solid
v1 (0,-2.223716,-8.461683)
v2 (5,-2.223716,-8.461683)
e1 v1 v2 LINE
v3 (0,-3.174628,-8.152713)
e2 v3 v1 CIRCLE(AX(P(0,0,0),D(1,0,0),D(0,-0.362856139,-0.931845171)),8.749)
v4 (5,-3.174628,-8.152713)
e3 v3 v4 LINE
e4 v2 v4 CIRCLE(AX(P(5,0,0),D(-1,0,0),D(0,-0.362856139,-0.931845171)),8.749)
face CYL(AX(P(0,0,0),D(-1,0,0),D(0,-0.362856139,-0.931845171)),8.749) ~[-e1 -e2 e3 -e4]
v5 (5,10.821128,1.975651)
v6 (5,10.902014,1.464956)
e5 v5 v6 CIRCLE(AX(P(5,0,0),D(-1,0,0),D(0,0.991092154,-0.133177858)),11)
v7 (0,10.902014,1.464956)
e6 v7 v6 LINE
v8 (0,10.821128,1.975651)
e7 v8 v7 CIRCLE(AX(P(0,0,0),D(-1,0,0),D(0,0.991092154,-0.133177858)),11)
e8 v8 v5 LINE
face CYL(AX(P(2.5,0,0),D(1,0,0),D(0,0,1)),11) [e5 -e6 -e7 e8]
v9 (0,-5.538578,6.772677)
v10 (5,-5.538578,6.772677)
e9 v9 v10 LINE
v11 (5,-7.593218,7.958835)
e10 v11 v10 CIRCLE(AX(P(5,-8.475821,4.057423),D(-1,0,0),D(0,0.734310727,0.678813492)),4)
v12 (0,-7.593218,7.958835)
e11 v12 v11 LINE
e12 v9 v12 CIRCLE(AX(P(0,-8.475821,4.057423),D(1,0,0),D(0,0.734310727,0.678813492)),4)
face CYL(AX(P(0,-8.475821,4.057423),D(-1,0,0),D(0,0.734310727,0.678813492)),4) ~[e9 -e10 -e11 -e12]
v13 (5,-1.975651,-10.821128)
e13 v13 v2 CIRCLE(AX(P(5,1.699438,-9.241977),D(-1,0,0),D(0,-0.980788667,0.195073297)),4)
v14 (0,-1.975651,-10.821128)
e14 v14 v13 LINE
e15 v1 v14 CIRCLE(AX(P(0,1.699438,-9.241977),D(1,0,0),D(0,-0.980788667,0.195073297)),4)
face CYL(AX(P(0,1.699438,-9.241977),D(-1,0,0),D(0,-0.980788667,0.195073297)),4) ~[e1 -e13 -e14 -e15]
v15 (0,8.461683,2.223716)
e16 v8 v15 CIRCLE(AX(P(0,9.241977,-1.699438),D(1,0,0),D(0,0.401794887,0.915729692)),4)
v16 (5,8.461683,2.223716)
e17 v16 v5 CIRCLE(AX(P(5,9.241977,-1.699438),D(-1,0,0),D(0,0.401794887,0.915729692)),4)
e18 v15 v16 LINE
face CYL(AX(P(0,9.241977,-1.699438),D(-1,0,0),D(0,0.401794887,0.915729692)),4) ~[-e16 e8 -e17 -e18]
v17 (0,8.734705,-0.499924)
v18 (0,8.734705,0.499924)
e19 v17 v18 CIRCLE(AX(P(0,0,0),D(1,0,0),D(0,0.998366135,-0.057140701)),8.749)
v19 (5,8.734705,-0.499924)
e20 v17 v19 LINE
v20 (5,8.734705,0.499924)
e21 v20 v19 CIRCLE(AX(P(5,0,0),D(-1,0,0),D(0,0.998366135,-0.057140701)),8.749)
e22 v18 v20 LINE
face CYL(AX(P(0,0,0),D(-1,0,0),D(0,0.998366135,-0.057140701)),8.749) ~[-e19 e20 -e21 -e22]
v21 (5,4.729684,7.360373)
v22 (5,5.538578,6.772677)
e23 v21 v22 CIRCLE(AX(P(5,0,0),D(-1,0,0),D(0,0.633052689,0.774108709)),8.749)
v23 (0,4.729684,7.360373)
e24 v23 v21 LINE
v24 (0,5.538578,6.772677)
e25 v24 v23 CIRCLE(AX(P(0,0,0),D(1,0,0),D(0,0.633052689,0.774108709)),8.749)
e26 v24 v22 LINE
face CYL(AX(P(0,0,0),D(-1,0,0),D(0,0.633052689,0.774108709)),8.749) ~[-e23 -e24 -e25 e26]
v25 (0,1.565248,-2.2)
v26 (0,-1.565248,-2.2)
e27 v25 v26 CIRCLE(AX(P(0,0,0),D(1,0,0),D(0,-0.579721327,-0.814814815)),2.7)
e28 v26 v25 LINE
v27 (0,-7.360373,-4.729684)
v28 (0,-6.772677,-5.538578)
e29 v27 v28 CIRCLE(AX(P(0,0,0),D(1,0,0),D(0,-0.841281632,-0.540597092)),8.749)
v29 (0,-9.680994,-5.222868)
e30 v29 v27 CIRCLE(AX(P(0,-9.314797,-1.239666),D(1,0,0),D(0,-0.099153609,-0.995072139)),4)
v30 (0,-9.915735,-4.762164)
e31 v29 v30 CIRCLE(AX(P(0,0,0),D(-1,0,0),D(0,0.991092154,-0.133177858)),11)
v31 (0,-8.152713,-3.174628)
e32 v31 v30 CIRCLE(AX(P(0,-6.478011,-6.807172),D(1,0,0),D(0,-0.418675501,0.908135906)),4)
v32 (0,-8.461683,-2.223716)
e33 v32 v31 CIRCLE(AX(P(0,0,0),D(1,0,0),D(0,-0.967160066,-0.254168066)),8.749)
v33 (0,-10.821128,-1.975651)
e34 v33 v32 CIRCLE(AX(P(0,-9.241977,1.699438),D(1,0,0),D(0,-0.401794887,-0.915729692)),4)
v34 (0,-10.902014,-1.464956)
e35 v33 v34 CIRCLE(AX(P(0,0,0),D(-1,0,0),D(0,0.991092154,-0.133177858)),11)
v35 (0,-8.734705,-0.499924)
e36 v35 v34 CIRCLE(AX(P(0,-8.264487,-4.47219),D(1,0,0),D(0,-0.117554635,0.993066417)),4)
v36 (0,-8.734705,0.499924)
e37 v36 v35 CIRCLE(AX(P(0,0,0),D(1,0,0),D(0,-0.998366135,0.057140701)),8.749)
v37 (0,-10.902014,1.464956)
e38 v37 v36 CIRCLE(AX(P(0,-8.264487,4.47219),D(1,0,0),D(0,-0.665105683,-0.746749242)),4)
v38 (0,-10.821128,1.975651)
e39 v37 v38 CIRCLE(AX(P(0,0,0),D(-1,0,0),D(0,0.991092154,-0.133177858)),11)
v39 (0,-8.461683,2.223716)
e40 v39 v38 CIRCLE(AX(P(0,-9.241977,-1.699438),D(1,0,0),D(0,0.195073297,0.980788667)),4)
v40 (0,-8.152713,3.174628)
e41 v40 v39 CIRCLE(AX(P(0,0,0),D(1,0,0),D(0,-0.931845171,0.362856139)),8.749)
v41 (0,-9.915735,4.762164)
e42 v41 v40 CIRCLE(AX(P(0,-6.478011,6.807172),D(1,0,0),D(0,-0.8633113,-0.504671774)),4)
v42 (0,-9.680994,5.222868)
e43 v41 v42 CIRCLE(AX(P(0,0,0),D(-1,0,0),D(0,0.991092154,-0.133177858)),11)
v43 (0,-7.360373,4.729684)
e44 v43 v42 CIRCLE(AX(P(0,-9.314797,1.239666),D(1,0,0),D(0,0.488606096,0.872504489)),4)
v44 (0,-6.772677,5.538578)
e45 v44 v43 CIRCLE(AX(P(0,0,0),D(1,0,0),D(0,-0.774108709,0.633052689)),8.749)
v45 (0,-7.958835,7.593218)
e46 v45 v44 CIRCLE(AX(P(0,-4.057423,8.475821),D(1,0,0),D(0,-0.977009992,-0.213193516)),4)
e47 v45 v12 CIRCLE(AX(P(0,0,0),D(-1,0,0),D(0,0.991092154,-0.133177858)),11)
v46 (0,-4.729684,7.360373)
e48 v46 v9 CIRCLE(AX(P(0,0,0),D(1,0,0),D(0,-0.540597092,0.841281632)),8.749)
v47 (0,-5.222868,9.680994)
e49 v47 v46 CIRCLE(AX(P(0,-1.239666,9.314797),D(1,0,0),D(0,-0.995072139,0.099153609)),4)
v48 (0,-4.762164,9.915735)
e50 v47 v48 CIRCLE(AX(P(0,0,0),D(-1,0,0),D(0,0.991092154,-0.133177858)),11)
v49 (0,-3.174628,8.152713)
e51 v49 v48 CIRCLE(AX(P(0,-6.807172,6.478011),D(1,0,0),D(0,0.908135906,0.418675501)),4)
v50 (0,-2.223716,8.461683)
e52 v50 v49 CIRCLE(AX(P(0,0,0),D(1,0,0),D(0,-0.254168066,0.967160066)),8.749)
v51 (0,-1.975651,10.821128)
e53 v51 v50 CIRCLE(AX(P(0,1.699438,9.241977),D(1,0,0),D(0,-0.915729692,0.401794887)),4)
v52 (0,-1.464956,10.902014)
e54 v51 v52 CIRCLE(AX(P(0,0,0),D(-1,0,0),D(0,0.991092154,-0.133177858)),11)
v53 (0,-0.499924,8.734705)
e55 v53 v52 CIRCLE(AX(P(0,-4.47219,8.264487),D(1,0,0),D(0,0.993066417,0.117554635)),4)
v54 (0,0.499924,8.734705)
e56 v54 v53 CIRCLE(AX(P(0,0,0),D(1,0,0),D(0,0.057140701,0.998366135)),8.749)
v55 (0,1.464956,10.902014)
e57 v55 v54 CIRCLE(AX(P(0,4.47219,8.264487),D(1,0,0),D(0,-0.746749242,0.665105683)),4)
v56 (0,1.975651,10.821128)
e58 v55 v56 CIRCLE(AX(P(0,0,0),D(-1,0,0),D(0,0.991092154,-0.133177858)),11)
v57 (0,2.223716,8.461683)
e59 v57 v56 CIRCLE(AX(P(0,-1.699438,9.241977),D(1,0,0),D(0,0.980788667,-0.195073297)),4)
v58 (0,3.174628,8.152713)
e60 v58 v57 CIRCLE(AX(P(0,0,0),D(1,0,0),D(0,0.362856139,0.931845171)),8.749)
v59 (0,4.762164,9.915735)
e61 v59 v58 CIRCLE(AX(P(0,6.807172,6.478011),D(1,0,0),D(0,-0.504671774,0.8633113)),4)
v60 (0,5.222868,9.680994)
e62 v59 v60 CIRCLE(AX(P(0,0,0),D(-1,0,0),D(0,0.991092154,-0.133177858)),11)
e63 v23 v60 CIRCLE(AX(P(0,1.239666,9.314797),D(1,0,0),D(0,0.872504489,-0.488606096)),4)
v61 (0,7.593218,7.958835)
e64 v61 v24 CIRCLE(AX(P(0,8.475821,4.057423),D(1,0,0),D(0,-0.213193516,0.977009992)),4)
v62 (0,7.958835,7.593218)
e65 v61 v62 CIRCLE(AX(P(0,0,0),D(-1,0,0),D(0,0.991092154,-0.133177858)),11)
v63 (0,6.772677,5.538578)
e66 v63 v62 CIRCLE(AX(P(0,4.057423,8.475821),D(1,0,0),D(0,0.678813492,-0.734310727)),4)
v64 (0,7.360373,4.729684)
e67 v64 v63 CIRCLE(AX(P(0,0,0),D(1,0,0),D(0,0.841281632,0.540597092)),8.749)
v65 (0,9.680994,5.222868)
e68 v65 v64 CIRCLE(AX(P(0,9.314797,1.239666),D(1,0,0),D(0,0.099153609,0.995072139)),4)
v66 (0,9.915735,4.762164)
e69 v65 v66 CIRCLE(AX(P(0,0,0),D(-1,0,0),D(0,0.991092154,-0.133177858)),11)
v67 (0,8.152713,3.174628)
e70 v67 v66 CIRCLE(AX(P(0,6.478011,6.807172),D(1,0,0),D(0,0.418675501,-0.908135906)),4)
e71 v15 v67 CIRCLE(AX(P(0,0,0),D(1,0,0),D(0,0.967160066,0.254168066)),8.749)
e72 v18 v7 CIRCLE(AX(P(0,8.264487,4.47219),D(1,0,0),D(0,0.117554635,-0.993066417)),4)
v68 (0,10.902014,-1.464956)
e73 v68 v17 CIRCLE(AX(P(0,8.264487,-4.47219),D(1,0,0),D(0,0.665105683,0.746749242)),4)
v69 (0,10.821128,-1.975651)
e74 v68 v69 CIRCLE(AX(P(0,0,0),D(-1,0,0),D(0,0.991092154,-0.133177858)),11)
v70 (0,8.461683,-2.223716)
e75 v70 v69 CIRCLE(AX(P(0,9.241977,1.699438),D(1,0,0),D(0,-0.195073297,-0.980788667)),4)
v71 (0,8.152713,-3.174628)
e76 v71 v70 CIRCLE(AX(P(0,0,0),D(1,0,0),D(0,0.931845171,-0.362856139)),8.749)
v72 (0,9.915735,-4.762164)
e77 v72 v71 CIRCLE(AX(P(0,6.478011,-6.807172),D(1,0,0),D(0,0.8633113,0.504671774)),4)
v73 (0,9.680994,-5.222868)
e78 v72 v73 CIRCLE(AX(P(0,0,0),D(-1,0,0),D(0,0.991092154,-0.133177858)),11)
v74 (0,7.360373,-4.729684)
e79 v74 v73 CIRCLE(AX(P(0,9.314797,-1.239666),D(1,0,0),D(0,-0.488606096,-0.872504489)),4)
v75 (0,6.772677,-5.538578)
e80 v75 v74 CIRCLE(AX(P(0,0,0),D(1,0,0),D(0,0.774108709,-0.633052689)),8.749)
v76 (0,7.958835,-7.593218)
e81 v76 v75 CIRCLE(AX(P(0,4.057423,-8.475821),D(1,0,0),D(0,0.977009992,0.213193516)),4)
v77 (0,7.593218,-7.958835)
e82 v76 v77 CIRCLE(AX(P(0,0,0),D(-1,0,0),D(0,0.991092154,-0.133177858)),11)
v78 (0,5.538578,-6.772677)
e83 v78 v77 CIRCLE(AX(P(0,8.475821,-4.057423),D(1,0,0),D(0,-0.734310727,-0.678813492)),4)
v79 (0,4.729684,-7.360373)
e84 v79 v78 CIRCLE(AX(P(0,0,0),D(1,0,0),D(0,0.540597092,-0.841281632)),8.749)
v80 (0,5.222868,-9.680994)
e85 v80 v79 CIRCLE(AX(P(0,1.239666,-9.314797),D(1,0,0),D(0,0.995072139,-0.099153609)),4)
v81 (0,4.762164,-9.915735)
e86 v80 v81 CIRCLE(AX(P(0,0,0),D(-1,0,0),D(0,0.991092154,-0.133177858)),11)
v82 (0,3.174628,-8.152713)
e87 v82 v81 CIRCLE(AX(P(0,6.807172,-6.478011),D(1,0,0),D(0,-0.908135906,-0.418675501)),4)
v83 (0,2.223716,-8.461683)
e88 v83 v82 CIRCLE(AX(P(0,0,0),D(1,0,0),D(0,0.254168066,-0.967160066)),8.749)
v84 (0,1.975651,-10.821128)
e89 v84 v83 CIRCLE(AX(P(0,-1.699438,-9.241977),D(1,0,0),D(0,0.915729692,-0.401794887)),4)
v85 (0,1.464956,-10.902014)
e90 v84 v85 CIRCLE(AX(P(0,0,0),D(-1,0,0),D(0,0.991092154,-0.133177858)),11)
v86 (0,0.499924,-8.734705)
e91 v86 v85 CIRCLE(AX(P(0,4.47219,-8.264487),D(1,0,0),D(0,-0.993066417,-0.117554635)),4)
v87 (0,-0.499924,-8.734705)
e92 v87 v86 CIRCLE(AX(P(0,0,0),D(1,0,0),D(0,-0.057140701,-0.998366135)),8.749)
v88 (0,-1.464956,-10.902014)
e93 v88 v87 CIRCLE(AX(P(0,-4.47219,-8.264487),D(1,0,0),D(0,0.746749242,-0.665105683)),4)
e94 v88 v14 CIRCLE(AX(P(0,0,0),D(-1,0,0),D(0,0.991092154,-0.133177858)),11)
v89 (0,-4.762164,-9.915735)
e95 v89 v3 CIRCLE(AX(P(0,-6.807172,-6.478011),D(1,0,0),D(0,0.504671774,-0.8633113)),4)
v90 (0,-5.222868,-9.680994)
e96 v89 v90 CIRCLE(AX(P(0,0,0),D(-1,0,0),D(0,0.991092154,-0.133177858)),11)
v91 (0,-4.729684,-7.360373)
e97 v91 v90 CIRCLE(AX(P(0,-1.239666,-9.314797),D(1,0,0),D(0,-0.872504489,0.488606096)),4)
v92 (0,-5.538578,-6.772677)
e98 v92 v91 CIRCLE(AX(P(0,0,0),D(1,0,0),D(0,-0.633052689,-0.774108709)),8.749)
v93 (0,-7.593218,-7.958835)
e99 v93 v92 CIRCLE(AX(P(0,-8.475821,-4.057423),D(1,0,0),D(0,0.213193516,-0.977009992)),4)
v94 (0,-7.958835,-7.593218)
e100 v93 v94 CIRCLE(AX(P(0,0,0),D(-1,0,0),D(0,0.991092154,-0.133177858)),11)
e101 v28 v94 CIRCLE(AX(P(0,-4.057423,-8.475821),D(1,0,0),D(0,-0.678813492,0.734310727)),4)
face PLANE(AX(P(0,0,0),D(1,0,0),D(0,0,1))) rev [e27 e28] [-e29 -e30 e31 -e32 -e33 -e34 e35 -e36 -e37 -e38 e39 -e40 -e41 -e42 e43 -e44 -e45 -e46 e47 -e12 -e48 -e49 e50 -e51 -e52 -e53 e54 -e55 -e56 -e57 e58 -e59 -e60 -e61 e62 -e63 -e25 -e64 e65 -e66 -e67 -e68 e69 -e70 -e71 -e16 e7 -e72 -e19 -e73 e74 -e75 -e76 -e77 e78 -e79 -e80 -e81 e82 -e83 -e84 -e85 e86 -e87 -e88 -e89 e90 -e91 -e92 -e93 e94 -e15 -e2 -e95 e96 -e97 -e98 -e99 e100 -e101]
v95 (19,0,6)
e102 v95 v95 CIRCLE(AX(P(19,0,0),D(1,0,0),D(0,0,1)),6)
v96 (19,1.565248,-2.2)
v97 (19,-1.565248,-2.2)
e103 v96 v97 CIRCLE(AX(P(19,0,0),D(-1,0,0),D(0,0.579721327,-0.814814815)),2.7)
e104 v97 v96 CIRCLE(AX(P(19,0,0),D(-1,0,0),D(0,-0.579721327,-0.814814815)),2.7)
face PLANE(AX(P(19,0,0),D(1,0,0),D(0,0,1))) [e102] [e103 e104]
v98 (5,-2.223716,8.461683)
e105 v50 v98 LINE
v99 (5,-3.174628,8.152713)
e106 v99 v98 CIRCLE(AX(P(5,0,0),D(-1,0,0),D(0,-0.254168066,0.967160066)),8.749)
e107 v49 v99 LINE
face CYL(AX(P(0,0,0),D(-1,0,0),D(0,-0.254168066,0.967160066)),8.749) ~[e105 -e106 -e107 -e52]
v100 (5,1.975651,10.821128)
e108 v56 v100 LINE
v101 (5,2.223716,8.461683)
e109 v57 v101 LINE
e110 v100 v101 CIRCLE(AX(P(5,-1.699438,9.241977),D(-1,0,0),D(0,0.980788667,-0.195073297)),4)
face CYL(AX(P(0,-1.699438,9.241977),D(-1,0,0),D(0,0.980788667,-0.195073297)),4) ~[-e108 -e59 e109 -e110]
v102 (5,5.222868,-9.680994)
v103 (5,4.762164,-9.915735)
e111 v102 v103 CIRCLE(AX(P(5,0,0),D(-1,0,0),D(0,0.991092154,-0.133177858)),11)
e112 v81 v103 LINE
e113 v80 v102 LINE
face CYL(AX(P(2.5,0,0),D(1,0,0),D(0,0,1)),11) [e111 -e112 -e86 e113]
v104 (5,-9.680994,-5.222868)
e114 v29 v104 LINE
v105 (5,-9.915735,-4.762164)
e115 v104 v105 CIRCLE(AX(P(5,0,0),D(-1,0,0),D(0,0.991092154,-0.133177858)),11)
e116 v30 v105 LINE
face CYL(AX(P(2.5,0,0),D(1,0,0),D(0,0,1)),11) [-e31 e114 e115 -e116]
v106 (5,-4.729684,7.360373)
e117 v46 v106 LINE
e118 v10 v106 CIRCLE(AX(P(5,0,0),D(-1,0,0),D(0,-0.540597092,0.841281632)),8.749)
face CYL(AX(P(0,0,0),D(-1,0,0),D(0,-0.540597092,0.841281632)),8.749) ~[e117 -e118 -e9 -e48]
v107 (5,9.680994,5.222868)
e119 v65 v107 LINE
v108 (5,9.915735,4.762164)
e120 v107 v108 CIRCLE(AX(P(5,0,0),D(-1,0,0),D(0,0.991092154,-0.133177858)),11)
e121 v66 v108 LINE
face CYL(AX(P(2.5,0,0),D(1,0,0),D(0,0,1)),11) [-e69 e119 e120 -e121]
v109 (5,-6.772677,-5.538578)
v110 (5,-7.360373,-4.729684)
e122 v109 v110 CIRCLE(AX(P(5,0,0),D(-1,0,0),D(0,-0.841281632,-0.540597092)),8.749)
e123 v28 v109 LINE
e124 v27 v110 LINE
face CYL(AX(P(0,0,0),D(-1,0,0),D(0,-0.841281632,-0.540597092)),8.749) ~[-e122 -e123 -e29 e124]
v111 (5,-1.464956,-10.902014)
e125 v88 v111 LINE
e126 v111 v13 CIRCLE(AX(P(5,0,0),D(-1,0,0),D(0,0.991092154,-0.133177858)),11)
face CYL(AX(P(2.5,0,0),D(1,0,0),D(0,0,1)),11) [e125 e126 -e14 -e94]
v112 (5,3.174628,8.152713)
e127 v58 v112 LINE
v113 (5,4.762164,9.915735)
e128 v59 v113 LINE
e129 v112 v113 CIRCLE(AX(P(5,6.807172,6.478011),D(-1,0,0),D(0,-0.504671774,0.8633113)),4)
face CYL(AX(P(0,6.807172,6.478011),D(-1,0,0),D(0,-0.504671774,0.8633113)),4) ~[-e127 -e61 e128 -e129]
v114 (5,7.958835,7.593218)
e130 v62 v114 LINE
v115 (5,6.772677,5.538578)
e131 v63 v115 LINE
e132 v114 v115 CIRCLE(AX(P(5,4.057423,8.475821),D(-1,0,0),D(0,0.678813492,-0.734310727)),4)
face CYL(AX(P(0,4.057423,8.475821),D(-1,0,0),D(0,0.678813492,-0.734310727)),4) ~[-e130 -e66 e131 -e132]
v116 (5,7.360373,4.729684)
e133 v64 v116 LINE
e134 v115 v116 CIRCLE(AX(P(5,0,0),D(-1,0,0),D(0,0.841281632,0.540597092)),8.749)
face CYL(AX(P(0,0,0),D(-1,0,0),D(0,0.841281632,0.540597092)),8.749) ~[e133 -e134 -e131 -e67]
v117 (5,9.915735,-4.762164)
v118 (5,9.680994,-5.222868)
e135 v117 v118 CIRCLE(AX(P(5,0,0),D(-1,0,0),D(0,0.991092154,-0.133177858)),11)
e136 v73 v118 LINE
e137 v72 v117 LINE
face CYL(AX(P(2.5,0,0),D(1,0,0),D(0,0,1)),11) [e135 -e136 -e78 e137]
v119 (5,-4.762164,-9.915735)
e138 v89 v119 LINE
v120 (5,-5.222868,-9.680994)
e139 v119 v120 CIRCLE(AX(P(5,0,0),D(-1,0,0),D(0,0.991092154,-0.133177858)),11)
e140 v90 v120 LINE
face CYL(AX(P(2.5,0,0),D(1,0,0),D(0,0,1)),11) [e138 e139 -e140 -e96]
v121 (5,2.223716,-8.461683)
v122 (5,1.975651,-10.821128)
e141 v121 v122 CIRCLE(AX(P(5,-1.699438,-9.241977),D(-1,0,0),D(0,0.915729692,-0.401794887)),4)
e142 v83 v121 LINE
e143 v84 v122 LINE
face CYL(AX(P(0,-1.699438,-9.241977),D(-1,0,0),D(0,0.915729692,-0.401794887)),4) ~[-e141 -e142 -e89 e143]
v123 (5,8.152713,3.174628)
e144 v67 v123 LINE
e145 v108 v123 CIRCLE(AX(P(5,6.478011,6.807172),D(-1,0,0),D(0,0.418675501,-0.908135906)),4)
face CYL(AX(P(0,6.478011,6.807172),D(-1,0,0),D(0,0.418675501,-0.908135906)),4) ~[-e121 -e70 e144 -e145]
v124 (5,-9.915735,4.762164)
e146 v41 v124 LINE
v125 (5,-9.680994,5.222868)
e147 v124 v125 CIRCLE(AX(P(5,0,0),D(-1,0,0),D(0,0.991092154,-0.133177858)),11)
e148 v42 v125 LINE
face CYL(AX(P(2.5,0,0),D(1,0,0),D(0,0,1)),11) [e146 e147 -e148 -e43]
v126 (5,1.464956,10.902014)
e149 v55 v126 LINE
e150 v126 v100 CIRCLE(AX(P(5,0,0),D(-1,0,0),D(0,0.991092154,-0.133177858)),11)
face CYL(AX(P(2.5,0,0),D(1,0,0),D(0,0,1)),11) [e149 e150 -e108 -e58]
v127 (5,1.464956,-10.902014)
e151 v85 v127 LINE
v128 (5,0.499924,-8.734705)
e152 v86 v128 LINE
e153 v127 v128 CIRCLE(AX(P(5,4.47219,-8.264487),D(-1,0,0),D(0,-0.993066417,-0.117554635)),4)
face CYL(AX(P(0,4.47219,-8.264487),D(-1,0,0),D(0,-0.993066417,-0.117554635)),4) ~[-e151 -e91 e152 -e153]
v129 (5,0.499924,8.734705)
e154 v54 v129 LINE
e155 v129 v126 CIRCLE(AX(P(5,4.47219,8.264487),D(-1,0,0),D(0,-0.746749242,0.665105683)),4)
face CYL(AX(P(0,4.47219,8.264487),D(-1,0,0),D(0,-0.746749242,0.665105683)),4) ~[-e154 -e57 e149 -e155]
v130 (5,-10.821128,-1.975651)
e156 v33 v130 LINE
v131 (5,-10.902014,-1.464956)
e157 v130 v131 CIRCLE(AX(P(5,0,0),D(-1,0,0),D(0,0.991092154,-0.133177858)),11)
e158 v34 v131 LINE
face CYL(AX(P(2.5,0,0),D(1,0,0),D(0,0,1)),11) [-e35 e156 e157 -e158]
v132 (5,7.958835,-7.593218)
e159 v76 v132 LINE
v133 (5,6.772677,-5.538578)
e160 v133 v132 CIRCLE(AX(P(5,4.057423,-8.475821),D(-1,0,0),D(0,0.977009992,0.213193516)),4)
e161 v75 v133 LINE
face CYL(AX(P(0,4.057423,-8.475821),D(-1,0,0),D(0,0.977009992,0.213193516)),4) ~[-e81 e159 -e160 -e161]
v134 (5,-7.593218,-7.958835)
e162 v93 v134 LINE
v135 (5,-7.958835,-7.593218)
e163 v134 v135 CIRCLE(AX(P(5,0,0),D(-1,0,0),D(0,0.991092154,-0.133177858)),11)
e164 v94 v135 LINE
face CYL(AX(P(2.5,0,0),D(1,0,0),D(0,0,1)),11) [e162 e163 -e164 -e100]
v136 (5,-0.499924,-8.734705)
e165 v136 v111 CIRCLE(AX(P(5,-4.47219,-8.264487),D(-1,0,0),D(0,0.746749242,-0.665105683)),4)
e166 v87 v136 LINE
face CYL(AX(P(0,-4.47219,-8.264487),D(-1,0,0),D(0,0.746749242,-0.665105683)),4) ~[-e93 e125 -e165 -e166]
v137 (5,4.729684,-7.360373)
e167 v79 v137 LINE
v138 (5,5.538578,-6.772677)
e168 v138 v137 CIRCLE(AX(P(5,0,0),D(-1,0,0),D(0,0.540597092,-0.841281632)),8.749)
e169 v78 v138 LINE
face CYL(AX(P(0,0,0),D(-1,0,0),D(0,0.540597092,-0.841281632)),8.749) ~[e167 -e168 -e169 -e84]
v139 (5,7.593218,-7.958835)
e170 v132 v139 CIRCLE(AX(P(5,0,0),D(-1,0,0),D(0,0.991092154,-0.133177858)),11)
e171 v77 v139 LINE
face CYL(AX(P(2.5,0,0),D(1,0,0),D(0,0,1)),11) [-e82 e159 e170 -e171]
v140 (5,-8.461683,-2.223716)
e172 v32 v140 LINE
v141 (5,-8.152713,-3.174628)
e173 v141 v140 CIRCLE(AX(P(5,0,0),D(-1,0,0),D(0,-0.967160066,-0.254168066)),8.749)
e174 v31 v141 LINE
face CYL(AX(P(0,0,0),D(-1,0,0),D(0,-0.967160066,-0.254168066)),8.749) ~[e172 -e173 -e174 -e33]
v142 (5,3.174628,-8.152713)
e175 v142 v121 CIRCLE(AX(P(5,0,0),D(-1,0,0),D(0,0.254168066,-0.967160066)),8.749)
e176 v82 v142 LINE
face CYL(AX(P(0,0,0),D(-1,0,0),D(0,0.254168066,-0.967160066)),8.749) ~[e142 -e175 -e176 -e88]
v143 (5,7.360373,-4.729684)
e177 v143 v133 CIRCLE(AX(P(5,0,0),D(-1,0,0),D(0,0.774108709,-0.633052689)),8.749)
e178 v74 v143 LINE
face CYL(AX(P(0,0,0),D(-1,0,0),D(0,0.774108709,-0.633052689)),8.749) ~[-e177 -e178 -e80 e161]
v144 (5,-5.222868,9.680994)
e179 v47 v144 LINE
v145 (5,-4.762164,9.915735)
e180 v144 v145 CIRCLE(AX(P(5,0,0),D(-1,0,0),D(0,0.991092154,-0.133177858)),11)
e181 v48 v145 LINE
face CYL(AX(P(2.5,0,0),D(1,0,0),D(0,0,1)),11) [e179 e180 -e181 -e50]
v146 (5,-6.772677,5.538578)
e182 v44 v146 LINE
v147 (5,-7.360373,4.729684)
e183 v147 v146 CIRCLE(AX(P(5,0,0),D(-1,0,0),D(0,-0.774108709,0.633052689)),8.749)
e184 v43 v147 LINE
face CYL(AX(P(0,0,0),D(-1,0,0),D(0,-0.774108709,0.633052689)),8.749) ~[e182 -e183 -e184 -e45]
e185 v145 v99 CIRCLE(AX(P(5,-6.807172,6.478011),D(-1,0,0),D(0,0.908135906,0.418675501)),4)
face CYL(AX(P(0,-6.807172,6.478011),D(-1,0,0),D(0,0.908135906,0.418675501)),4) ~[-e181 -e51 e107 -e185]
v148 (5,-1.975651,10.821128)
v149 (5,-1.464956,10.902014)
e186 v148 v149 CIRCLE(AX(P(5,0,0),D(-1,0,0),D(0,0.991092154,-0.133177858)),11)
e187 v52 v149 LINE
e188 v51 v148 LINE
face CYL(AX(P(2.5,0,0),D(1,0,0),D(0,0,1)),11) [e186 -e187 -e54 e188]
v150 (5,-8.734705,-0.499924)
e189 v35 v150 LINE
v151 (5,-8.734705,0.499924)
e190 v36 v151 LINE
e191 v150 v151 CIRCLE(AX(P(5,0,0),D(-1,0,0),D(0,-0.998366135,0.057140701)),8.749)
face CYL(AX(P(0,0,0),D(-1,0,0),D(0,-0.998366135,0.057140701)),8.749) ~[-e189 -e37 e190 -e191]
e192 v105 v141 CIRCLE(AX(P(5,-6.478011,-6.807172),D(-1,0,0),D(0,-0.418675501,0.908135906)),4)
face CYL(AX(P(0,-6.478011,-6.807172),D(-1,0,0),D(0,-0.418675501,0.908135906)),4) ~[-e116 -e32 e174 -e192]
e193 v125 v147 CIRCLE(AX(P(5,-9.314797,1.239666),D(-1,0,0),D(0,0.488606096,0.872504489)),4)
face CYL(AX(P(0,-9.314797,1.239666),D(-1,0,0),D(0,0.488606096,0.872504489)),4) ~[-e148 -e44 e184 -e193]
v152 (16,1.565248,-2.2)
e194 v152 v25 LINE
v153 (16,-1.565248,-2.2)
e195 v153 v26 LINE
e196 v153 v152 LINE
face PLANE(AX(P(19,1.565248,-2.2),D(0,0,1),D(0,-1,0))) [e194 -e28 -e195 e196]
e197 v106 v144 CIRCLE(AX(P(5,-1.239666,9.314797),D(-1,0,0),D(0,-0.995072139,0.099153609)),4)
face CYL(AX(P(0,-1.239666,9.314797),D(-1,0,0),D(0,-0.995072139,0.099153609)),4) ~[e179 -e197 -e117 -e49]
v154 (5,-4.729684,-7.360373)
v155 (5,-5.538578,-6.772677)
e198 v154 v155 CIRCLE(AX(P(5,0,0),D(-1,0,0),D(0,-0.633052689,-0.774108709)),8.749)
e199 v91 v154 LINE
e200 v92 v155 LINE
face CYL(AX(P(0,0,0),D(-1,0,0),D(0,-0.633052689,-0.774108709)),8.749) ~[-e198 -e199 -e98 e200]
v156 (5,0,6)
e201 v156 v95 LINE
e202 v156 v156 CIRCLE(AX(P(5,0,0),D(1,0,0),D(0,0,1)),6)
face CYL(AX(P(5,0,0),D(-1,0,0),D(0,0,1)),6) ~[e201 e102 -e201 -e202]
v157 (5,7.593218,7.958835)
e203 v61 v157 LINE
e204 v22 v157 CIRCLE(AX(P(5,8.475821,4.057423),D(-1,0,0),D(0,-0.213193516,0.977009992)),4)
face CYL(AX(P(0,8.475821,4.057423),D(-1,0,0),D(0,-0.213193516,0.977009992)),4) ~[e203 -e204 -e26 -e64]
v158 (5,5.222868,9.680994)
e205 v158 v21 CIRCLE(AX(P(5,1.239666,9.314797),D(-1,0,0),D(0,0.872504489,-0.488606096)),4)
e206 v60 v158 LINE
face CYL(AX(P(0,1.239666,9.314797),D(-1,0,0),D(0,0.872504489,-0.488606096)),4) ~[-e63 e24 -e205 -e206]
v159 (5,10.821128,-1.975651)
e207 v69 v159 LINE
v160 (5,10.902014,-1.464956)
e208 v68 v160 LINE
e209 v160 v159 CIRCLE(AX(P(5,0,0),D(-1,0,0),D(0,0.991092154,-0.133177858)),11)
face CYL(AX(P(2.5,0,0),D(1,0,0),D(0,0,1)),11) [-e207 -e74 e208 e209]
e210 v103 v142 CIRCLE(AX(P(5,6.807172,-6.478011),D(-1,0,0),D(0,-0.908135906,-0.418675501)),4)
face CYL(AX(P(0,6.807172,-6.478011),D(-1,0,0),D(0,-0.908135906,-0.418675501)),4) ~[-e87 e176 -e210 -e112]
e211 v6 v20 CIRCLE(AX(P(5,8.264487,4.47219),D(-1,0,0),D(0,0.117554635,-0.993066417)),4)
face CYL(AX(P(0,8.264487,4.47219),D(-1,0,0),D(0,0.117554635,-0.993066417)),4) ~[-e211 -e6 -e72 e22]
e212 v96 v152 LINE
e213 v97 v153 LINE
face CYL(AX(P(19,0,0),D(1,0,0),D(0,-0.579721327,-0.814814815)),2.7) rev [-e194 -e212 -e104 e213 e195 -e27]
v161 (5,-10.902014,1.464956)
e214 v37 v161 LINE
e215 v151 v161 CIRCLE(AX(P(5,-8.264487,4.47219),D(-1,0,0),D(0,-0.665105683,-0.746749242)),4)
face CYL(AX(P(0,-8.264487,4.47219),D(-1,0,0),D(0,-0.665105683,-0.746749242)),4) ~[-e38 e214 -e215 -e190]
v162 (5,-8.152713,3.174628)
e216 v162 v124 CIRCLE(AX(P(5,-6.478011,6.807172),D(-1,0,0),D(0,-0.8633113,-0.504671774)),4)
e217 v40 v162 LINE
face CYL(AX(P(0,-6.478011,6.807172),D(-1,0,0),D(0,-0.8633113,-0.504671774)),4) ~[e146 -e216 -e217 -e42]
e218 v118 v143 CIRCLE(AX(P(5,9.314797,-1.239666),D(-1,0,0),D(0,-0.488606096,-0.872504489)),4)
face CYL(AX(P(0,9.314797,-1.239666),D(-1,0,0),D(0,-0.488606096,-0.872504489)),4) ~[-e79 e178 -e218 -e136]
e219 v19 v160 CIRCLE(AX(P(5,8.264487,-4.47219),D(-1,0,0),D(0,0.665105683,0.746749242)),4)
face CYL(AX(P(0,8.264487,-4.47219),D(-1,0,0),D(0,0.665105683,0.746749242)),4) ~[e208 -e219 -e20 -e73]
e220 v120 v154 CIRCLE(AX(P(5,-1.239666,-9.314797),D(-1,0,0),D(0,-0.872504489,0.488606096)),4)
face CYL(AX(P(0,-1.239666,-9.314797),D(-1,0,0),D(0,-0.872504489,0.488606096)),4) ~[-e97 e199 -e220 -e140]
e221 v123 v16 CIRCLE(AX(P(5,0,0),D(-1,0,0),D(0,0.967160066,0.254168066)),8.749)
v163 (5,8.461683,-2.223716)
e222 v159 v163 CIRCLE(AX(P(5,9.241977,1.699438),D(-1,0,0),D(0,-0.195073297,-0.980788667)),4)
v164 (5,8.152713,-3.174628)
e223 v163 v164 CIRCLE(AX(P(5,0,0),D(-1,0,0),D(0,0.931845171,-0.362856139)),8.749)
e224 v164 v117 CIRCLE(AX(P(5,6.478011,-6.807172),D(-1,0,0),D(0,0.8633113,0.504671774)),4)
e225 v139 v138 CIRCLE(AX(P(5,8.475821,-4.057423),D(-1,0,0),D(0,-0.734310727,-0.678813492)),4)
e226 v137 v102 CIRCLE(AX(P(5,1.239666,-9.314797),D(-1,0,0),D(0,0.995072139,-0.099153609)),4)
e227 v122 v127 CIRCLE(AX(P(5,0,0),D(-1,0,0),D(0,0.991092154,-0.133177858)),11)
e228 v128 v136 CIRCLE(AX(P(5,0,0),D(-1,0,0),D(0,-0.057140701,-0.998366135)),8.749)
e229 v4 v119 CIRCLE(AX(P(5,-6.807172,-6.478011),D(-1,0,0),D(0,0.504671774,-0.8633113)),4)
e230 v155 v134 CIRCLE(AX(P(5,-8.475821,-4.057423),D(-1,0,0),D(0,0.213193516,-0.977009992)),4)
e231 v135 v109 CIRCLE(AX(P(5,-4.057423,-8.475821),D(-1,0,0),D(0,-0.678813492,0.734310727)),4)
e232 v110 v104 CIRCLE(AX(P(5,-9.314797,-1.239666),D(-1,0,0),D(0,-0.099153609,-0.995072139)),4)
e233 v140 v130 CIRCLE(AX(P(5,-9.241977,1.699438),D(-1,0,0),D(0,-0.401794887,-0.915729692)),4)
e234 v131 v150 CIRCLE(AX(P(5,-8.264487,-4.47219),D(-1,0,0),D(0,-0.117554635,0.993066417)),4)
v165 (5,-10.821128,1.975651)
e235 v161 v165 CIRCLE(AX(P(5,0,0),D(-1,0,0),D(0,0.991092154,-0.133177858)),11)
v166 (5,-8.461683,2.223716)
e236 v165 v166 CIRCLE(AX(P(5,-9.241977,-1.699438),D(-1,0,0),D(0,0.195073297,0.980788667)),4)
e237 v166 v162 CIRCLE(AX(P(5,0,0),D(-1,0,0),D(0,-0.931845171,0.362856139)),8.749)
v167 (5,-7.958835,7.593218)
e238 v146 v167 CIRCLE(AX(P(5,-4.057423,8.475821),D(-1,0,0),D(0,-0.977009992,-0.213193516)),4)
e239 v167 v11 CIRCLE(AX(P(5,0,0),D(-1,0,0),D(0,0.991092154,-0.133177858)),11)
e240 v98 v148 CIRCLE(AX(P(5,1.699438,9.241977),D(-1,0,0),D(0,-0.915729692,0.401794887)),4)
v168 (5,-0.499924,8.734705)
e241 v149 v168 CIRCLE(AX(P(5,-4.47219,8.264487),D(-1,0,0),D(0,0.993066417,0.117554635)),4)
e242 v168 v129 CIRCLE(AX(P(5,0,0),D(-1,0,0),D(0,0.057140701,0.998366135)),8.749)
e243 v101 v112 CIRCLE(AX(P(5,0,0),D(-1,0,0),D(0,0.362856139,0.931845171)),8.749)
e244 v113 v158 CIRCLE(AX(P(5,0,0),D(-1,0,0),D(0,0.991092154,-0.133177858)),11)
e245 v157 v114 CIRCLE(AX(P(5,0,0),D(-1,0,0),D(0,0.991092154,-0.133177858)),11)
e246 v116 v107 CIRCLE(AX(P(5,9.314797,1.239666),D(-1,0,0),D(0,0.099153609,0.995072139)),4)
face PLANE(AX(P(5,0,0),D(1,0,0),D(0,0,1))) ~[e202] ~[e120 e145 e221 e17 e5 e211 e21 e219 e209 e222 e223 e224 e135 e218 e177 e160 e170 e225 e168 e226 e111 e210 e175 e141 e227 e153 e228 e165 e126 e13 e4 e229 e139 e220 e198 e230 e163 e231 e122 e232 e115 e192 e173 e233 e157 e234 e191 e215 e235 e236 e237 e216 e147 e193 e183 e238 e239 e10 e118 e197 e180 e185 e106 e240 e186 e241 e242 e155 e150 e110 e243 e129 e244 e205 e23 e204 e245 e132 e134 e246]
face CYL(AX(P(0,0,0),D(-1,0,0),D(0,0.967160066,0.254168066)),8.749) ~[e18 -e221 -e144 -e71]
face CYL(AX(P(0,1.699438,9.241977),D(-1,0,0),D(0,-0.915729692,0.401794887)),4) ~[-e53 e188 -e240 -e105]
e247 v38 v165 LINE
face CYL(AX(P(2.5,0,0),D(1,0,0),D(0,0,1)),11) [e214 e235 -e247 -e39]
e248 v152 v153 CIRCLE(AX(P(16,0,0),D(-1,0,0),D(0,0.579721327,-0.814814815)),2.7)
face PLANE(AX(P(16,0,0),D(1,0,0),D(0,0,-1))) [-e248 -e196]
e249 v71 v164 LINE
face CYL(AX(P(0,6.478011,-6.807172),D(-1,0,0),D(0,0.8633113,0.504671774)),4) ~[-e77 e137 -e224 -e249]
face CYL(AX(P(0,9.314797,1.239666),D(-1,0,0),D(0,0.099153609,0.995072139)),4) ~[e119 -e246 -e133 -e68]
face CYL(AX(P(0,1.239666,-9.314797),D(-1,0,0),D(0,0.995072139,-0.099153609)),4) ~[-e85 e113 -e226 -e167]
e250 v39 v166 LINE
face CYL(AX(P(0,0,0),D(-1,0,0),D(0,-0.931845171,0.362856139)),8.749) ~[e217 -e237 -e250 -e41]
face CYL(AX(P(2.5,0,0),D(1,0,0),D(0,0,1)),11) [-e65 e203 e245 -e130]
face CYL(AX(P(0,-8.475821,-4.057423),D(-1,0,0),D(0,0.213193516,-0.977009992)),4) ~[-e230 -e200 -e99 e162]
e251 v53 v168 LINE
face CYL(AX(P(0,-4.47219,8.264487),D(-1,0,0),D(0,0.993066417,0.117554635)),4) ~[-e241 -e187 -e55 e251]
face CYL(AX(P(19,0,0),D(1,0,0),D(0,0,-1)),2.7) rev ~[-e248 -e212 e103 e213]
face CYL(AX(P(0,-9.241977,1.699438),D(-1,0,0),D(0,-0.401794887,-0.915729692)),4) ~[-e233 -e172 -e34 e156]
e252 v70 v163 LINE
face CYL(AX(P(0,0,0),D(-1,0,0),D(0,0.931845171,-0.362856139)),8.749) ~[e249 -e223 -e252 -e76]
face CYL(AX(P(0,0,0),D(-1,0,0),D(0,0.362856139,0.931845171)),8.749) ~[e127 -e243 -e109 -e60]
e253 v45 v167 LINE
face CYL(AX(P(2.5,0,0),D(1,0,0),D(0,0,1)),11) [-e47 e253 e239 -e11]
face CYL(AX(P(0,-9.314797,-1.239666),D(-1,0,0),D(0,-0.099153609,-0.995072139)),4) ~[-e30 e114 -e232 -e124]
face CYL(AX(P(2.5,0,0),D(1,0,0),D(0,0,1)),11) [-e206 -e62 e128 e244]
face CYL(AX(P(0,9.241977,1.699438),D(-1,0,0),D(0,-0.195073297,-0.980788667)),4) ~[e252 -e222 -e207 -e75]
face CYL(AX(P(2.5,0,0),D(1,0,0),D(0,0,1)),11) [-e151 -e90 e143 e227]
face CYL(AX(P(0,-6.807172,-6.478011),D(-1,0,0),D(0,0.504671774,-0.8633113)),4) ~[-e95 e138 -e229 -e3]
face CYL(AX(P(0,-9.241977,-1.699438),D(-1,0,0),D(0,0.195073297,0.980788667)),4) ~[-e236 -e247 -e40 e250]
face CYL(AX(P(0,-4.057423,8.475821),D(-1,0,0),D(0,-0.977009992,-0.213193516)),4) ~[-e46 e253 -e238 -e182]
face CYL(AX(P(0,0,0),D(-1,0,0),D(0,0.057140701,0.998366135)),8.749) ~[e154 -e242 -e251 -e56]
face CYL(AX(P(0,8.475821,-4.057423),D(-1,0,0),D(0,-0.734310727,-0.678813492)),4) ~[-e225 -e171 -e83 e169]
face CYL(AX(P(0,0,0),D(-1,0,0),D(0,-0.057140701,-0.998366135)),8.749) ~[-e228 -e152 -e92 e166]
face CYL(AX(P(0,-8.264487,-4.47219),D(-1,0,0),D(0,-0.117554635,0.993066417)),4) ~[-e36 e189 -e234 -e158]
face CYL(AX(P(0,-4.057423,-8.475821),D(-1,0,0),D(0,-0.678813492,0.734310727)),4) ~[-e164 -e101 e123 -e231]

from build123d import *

# Parameters (mm, degrees)
BASPROSKE_W         = 5
BASPROSKE_H         = 11
TOOTHCUT_DEPTH      = 17.340134638
TEETHCUTS_COUNT     = 20
BORSKE_R            = 1.5
BORE_DEPTH          = 50.0000508
SKETCH_1_R          = 6
EXTRUDE_1_DEPTH     = 14
CUT_EXTRUDE_1_DEPTH = 25.468506397
SKETCH_3_R          = 2.7
CUT_EXTRUDE_2_DEPTH = 3


with BuildPart() as part:
    # BasProSke → Base-Revolve (revolve)
    with BuildSketch(Plane(origin=(0, 0, 0), x_dir=(1, 0, 0), z_dir=(0, 1, 0)), mode=Mode.PRIVATE) as base_revolve_sk:
        with Locations((2.5, 5.5)):
            Rectangle(BASPROSKE_W, BASPROSKE_H)
    revolve(base_revolve_sk.sketch.rotate(Axis((-10, 0, 0), (1, 0, 0)), 180), axis=Axis((-10, 0, 0), (1, 0, 0)))

    # TooCutSke → ToothCut (cut, through all)
    with BuildSketch(Plane(origin=(0, 0, 0), x_dir=(0, 0, -1), z_dir=(1, 0, 0))):
        with BuildLine():
            ThreePointArc((0.499924007, 8.734705318), (0, 8.749), (-0.499924007, 8.734705318))
            ThreePointArc((-0.499924007, 8.734705318), (-0.824302243, 9.905497836), (-1.485192705, 10.924909509))
            ThreePointArc((-1.485192705, 10.924909509), (0, 11.0254), (1.485192705, 10.924909509))
            ThreePointArc((1.485192705, 10.924909509), (0.824302243, 9.905497836), (0.499924007, 8.734705318))
        make_face()
    toothcut = extrude(amount=TOOTHCUT_DEPTH, mode=Mode.SUBTRACT)

    # TeethCuts: ToothCut ×20 about axis
    teethcuts_axis = Axis((0, 0, 0), (1, 0, 0))
    for i in range(1, TEETHCUTS_COUNT):
        add(toothcut.rotate(teethcuts_axis, i * 360 / TEETHCUTS_COUNT), mode=Mode.SUBTRACT)

    # BorSke → Bore (cut, symmetric)
    with BuildSketch(Plane(origin=(0, 0, 0), x_dir=(0, 0, -1), z_dir=(1, 0, 0))):
        with Locations(Location((0, 0, 0), (0, 0, 180))):
            Circle(BORSKE_R)
    extrude(amount=BORE_DEPTH, both=True, mode=Mode.SUBTRACT)

    # 草图1 → 凸台-拉伸1 (add)
    with BuildSketch(Plane(origin=(5, 0, 0), x_dir=(0, 0, -1), z_dir=(1, 0, 0))):
        with Locations(Location((0, 0, 0), (0, 0, 180))):
            Circle(SKETCH_1_R)
    extrude(amount=EXTRUDE_1_DEPTH)

    # 草图2 → 切除-拉伸1 (cut, through all)
    with BuildSketch(Plane(origin=(19, 0, 0), x_dir=(0, 0, -1), z_dir=(1, 0, 0))):
        with BuildLine():
            Line((2.2, 1.565247584), (2.2, -1.565247584))
            ThreePointArc((2.2, -1.565247584), (-2.7, 0), (2.2, 1.565247584))
        make_face()
    extrude(amount=-CUT_EXTRUDE_1_DEPTH, mode=Mode.SUBTRACT)

    # 草图3 → 切除-拉伸2 (cut)
    with BuildSketch(Plane(origin=(19, 0, 0), x_dir=(0, 0, -1), z_dir=(1, 0, 0))):
        Circle(SKETCH_3_R)
    extrude(amount=-CUT_EXTRUDE_2_DEPTH, mode=Mode.SUBTRACT)


solid = part.part
